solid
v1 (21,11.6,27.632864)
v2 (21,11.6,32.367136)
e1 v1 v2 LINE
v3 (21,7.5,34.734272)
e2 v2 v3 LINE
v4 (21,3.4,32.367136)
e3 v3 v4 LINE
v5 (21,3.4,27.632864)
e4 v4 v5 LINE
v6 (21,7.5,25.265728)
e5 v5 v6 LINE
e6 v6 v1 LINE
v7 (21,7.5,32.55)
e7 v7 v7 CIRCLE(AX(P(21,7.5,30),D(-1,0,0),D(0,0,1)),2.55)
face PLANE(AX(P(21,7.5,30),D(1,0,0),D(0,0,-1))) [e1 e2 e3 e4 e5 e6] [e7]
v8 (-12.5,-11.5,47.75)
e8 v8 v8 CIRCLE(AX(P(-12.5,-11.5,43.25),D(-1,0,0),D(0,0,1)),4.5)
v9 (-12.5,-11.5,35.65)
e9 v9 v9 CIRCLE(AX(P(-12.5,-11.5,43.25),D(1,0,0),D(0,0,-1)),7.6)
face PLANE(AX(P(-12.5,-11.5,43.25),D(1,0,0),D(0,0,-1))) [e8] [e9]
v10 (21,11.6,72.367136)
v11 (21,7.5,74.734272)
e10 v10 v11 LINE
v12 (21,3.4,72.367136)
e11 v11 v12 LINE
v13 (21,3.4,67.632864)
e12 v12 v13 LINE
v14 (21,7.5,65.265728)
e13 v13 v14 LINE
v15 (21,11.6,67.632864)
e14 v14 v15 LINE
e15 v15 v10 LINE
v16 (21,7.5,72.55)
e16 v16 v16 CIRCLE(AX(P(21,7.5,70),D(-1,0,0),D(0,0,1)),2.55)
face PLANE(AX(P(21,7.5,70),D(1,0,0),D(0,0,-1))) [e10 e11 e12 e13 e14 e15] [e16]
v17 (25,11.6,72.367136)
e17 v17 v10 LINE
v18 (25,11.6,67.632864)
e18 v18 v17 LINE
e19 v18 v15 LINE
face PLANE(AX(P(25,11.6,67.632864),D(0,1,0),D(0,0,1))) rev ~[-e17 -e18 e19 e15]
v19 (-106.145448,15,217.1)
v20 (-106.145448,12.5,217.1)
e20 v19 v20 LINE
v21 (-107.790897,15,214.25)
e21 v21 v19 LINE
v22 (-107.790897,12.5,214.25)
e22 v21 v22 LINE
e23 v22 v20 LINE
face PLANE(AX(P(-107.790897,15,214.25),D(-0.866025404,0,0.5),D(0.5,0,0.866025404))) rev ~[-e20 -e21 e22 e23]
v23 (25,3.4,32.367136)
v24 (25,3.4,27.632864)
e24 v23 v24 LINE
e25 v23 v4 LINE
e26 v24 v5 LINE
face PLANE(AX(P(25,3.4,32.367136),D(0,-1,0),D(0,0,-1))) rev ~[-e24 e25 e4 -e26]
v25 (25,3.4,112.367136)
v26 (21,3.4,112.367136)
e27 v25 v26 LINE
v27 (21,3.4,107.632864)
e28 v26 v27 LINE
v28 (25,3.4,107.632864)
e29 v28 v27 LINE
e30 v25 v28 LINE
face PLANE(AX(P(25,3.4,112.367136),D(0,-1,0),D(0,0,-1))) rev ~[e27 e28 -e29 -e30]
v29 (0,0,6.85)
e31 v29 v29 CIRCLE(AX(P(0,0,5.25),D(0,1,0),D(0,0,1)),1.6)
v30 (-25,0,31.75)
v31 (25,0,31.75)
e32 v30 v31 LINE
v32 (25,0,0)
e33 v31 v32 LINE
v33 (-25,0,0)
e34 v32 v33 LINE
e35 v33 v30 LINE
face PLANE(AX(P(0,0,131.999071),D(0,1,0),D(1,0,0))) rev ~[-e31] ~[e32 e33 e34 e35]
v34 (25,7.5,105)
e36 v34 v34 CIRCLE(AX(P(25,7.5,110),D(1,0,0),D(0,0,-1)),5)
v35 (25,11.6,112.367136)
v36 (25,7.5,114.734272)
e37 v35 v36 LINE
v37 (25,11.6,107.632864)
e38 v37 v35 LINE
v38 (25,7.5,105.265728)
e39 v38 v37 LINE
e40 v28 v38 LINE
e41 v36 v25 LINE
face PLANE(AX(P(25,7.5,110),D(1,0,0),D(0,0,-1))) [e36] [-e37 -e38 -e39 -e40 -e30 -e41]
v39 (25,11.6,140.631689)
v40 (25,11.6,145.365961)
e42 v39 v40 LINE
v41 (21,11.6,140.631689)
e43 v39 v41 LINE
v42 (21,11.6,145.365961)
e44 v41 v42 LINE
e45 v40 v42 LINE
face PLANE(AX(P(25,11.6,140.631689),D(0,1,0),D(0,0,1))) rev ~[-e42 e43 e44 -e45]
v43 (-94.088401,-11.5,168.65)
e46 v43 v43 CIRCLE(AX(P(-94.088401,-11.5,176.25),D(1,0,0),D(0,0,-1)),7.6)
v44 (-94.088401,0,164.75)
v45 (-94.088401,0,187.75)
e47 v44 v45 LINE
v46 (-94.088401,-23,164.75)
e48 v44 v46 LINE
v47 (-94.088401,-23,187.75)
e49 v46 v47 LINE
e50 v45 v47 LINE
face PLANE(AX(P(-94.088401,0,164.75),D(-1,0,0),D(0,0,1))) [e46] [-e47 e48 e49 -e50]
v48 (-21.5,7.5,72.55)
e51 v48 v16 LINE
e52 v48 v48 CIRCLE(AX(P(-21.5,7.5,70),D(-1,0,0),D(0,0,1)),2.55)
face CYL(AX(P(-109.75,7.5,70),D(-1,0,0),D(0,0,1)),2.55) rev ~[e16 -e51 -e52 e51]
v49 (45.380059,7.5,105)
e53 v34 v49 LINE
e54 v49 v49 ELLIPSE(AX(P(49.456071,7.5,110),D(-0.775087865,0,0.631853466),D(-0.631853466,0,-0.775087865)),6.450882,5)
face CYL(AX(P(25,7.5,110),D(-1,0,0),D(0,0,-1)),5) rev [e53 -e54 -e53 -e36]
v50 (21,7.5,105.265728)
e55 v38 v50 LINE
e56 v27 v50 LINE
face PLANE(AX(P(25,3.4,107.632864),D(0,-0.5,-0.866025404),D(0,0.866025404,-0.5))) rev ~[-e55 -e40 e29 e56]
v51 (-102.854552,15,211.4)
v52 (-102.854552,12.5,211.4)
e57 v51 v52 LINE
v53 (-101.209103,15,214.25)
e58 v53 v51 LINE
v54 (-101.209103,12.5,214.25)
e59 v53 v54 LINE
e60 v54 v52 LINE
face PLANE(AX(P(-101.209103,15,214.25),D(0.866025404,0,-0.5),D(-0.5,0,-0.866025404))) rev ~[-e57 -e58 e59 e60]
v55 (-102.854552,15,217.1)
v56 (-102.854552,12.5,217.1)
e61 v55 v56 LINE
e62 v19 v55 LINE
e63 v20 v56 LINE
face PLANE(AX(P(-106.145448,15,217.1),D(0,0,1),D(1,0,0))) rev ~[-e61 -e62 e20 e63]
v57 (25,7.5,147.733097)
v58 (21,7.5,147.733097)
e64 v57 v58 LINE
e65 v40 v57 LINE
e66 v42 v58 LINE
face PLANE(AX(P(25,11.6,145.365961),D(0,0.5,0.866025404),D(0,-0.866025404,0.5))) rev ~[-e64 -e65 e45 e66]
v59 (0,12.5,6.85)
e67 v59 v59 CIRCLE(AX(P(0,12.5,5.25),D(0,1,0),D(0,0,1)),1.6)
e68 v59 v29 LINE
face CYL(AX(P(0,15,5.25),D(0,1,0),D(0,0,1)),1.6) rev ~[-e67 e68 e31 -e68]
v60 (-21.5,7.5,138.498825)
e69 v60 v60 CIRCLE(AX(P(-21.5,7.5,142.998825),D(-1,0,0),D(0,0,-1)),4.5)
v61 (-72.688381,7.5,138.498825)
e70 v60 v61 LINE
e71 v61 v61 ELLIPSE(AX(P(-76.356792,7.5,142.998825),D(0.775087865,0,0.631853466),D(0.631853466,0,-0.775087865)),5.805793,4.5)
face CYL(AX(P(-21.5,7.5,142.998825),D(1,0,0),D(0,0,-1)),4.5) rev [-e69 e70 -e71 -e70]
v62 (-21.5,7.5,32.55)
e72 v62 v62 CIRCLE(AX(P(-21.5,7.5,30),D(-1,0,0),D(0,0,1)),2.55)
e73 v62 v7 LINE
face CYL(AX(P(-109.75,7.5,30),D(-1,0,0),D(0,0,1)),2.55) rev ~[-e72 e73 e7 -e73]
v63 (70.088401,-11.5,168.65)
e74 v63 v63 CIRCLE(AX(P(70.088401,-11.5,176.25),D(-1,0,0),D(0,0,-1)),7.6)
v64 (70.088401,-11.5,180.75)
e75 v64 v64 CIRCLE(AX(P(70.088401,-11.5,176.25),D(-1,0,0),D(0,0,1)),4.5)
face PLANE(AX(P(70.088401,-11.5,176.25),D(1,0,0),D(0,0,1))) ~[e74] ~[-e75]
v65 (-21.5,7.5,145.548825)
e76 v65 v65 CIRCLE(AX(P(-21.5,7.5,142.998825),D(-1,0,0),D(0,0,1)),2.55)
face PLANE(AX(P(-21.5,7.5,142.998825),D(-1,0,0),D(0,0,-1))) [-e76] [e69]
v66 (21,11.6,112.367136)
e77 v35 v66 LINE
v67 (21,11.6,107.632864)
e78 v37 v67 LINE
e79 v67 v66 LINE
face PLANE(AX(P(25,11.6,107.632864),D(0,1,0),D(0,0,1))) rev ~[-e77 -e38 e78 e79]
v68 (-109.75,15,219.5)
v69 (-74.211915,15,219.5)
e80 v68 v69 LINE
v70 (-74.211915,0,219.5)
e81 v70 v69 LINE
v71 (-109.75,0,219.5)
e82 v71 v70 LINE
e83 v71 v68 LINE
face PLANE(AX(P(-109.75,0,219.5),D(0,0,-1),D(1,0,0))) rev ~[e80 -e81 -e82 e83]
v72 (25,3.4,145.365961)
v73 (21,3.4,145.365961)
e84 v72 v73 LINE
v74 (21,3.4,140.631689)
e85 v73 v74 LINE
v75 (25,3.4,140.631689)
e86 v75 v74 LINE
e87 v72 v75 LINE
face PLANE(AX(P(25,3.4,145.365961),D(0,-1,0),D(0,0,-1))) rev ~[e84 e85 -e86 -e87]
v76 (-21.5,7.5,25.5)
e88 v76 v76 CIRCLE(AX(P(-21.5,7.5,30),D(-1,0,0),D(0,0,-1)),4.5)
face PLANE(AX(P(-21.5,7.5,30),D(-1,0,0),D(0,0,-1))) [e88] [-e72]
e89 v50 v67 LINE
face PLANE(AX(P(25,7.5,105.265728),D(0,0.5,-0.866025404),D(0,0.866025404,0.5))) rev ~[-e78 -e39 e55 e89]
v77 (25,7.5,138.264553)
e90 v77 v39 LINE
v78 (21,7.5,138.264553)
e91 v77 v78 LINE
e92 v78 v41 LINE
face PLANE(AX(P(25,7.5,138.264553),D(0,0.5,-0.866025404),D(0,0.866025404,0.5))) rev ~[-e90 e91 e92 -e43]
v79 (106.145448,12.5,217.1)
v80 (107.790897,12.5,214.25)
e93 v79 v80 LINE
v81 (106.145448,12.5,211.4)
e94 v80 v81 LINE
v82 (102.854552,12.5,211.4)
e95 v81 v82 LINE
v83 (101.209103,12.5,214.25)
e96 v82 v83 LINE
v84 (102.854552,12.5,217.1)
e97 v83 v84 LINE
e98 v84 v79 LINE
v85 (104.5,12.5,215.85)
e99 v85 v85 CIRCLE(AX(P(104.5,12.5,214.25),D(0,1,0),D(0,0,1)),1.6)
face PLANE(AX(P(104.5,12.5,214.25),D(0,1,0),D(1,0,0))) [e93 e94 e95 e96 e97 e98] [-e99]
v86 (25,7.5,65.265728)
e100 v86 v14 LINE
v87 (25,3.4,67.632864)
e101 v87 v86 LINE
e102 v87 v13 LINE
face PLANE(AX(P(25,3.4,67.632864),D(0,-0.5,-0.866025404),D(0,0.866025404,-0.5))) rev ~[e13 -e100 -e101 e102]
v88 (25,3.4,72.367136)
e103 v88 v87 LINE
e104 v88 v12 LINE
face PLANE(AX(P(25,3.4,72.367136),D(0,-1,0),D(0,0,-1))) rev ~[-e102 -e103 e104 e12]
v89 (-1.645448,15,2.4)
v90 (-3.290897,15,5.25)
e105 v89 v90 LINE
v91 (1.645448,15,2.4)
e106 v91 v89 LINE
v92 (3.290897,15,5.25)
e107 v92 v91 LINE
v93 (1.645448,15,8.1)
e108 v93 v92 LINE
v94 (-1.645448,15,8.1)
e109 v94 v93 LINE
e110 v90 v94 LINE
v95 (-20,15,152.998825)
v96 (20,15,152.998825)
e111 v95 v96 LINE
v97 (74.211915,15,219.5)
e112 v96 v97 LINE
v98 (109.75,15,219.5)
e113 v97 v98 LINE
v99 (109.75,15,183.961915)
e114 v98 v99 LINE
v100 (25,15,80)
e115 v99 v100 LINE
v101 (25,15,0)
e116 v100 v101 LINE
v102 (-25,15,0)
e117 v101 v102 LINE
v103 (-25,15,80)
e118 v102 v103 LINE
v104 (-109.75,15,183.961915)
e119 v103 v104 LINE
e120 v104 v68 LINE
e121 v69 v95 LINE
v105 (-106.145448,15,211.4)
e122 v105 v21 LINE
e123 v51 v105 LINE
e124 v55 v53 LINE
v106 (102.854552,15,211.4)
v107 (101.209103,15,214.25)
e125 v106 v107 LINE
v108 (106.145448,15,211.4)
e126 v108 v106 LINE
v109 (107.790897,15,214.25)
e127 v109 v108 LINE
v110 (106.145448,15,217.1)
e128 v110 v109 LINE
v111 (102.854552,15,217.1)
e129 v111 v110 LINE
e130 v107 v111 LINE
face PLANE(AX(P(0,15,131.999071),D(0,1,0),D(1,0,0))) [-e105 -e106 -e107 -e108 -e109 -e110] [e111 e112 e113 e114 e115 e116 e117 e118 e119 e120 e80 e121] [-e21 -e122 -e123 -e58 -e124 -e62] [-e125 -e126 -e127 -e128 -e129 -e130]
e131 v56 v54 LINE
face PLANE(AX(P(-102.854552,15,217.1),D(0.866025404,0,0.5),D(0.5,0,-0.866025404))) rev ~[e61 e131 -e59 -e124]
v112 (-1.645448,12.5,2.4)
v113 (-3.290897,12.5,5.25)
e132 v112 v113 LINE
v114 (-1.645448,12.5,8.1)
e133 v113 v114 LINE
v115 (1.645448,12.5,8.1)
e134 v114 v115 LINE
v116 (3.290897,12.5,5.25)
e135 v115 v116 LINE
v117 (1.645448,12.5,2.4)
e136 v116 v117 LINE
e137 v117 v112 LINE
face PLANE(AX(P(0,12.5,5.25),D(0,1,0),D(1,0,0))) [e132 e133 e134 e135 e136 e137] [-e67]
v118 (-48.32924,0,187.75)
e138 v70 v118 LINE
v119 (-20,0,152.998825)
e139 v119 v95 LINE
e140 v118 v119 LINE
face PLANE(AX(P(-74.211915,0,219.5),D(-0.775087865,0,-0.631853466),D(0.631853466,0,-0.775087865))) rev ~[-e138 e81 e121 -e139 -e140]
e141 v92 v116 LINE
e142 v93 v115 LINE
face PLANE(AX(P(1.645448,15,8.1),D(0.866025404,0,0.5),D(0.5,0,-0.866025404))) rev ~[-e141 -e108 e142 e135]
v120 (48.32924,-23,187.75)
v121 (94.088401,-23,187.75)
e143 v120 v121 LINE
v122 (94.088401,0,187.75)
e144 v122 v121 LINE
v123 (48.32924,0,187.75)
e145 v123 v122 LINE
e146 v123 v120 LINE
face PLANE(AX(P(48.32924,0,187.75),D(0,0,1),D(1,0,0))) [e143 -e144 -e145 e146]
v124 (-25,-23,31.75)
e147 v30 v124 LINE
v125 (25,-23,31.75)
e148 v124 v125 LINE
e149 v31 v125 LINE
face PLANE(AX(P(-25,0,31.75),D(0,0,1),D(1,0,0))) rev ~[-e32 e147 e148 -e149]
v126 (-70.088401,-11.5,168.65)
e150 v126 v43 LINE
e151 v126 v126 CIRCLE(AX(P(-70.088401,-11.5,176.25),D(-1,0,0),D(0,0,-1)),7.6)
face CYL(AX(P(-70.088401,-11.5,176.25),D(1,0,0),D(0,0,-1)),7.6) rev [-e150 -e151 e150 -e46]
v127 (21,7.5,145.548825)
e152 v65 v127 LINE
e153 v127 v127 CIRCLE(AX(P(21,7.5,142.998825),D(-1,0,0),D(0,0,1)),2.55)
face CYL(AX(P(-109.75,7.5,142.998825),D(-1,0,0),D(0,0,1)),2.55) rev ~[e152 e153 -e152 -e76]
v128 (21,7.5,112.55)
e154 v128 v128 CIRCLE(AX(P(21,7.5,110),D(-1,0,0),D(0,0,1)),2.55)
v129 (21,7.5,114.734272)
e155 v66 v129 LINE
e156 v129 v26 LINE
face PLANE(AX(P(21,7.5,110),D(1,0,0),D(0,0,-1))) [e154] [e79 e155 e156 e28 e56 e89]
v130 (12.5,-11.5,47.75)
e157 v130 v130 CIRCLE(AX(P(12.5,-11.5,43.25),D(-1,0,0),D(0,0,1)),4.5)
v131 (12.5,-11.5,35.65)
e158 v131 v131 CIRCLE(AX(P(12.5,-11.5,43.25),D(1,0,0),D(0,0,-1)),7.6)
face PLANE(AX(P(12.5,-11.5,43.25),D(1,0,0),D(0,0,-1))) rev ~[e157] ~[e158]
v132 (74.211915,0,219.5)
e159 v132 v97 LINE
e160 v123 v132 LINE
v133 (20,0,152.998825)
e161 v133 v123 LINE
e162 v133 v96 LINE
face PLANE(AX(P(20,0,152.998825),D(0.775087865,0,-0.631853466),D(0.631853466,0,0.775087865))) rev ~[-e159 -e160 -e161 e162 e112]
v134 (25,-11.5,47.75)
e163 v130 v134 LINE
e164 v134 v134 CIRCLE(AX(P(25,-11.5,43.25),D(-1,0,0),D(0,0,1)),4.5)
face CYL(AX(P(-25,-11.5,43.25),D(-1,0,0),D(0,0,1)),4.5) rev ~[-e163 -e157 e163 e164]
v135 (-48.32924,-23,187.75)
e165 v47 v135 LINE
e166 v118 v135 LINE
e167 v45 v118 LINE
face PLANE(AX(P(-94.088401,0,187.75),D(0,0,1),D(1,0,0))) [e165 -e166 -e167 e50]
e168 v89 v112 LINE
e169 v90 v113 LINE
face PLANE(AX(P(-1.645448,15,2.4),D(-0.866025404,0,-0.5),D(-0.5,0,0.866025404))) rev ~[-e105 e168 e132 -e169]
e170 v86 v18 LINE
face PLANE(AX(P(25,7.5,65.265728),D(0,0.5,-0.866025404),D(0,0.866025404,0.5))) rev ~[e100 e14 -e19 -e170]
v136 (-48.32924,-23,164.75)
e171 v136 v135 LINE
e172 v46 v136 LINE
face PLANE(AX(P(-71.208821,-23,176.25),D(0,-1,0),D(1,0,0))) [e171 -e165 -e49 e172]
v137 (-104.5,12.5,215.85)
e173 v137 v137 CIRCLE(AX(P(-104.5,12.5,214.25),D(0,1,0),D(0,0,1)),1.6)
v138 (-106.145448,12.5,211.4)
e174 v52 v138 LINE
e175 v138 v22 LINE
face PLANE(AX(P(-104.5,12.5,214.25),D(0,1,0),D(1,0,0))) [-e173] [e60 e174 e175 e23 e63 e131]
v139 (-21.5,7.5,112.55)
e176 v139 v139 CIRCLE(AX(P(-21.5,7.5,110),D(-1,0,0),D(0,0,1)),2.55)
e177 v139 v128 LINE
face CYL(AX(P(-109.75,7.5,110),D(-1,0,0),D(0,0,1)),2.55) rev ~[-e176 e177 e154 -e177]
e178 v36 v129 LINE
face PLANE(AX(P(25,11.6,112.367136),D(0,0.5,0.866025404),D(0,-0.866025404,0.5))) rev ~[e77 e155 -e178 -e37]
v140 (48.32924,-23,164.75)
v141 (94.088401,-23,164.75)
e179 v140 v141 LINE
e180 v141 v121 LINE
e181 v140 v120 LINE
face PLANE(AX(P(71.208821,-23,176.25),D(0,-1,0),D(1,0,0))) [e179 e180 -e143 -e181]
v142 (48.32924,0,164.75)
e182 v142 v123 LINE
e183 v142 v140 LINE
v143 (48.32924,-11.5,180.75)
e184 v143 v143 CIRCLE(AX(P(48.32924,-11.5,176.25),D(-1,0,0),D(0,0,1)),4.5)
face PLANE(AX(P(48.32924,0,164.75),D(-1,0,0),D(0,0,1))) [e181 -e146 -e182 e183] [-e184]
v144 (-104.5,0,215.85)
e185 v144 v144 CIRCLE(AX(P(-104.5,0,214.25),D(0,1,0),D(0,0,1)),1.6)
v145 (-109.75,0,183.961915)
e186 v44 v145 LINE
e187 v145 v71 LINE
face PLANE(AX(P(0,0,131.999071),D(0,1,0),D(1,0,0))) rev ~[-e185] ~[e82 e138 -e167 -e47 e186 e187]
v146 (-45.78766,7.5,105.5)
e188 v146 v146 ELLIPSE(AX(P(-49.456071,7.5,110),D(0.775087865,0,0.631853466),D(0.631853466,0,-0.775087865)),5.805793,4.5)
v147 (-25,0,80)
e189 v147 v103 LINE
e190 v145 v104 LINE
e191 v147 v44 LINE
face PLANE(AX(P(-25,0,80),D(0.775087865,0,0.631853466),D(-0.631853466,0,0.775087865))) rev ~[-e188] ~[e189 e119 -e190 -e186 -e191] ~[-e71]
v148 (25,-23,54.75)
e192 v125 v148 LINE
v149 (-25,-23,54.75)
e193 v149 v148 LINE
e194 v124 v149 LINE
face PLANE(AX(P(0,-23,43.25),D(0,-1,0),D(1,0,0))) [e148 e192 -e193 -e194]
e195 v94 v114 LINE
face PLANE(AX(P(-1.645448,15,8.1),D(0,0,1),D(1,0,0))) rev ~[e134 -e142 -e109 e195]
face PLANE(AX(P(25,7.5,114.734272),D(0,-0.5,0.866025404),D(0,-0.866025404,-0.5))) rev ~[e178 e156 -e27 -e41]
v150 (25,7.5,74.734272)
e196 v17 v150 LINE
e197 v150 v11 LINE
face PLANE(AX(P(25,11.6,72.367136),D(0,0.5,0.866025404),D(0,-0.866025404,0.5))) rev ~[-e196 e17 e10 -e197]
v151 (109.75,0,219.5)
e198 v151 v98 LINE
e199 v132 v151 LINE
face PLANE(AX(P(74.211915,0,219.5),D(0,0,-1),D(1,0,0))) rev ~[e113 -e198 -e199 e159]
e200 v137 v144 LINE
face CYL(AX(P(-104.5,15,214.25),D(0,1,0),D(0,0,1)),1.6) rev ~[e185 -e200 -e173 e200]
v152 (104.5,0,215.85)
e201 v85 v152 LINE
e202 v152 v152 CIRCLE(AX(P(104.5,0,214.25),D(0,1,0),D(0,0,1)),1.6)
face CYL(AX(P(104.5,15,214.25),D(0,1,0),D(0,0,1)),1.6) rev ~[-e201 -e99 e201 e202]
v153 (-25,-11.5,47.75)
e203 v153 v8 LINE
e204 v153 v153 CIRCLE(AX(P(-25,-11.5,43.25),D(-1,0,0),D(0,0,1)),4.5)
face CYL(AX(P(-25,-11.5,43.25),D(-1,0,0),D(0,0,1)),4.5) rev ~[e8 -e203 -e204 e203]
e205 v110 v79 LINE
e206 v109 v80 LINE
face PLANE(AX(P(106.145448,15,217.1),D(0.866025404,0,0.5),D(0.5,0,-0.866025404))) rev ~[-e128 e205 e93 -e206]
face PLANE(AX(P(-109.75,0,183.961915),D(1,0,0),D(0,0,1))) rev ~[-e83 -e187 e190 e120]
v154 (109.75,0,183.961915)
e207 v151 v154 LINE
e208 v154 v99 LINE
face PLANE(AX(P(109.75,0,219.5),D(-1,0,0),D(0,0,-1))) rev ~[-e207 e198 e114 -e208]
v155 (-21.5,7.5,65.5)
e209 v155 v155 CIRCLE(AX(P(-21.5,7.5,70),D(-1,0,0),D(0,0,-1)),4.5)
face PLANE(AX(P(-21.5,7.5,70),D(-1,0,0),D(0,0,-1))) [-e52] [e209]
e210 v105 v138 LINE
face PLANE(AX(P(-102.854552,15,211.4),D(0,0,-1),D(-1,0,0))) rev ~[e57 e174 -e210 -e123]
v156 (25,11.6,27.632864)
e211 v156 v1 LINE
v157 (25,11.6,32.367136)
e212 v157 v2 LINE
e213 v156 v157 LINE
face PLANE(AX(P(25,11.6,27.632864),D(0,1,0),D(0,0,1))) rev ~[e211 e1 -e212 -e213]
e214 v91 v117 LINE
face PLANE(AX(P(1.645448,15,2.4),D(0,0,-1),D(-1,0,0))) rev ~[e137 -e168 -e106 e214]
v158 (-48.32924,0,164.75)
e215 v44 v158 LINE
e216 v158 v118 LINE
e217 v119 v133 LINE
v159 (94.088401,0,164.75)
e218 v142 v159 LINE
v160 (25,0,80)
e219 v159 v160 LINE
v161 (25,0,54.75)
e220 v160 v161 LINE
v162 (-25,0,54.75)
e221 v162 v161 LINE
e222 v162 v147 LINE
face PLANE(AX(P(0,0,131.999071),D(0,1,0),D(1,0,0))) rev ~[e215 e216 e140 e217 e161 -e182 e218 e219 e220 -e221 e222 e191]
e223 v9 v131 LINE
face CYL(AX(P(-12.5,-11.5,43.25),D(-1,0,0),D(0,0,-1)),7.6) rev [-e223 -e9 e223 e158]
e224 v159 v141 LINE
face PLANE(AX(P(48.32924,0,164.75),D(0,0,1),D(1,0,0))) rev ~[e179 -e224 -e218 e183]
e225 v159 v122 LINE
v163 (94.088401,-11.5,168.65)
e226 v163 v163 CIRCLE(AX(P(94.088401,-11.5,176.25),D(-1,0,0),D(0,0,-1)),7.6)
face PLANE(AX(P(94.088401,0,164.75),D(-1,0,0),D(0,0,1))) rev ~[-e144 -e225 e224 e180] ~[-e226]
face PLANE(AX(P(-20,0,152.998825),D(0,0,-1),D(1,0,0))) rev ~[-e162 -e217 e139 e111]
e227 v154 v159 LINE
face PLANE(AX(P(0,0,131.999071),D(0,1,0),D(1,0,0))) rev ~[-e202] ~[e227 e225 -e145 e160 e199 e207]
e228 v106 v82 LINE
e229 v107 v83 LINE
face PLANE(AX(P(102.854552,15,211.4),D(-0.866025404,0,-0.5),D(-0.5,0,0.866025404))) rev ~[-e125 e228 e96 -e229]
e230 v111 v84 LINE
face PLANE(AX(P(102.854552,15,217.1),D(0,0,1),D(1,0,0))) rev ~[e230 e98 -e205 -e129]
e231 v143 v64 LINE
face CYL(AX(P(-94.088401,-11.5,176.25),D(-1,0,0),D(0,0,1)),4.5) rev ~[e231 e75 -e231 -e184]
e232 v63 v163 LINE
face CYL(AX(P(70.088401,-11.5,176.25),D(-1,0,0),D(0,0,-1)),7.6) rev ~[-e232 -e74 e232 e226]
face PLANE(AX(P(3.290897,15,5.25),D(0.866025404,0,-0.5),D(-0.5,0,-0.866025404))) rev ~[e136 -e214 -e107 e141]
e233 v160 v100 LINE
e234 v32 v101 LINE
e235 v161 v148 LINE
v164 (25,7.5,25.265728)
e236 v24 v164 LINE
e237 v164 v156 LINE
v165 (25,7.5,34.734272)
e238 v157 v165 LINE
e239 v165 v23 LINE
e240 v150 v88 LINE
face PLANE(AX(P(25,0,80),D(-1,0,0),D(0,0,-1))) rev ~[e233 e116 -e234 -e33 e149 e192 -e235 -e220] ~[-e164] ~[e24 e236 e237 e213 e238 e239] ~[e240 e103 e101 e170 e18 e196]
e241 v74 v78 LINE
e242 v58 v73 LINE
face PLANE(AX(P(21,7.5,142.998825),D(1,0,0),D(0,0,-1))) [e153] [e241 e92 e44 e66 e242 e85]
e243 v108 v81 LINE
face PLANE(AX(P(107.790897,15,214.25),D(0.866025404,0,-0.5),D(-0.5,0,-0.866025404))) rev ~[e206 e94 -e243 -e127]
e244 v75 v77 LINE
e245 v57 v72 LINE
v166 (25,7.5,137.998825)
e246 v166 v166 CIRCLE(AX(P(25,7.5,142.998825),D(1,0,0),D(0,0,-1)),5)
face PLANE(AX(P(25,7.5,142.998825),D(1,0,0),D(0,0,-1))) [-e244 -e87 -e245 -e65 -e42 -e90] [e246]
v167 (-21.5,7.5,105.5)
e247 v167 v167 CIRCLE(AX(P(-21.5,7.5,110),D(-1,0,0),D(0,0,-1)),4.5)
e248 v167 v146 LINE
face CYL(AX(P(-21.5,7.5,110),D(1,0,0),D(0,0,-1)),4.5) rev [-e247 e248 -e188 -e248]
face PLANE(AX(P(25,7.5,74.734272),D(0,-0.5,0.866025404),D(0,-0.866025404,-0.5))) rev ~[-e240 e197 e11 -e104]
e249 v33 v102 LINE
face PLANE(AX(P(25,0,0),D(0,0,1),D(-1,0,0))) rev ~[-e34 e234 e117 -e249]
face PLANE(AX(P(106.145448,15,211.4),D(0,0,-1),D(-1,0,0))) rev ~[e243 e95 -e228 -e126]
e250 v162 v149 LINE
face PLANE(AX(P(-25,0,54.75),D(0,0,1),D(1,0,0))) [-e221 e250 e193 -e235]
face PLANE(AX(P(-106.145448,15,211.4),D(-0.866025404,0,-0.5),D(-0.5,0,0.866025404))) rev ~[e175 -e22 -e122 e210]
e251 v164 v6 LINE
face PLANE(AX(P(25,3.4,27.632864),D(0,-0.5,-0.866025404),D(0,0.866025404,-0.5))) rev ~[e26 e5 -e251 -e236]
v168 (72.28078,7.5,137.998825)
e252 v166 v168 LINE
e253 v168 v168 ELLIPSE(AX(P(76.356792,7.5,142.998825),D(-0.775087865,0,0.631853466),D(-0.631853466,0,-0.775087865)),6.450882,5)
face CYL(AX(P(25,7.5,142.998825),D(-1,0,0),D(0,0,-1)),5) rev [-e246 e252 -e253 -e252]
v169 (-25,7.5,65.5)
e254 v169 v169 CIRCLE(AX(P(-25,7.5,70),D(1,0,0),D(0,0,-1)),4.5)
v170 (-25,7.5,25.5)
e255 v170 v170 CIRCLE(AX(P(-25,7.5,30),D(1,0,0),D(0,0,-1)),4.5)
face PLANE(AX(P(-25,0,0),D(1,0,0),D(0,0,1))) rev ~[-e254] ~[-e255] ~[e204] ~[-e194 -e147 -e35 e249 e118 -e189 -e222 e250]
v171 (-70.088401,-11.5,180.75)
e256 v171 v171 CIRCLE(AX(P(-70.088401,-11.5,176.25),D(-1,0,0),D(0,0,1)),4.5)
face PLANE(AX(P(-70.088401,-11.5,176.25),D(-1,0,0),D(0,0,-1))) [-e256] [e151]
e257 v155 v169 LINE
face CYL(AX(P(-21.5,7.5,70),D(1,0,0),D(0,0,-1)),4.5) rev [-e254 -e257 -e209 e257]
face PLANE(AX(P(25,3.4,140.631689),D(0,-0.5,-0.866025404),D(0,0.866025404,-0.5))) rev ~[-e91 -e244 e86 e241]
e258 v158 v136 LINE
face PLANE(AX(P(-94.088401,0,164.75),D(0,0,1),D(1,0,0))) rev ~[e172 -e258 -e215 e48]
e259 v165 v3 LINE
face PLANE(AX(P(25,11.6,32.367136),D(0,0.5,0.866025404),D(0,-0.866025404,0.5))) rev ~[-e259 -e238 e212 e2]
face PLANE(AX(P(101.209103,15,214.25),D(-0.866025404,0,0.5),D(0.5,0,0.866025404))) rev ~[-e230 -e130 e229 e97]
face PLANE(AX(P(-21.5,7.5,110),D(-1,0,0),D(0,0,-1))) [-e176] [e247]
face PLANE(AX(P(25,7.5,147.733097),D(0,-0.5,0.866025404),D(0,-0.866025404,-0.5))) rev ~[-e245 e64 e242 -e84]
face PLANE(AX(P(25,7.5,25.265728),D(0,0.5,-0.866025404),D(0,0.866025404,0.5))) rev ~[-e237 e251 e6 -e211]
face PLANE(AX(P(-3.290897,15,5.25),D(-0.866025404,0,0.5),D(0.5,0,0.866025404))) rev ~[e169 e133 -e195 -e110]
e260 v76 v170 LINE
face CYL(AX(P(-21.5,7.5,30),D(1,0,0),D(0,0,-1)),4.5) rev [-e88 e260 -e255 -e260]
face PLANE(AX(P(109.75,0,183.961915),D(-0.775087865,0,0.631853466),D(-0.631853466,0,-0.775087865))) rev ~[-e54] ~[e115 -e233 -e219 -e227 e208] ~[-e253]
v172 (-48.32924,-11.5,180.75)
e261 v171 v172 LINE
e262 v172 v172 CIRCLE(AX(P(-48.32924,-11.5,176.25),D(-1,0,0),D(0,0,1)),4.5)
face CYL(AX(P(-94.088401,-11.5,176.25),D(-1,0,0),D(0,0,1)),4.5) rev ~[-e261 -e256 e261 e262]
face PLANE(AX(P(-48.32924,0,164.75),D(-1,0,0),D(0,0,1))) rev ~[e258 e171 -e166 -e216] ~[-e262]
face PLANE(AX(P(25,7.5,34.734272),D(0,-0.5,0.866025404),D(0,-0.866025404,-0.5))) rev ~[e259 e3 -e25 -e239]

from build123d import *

# Parameters (mm, degrees)
BOSS_EXTRUDE1_DEPTH      = 15
SKETCH4_R                = 2.55
CUT_EXTRUDE1_DEPTH       = 311.78207799
CUT_EXTRUDE3_DEPTH       = 258.997698633
CUT_EXTRUDE3_DEPTH_BACK  = 3.5
SKETCH5_R                = 4.5
SKETCH6_R                = 5
CUT_EXTRUDE4_DEPTH       = 258.997698633
CUT_EXTRUDE5_DEPTH       = 4
SKETCH8_R                = 1.6
CUT_EXTRUDE6_DEPTH       = 246.866452571
CUT_EXTRUDE7_DEPTH       = 2.5
SKETCH10_W               = 50
SKETCH10_H               = 23
SKETCH10_W_2             = 45.759160871
BOSS_EXTRUDE2_DEPTH      = 23
CUT_EXTRUDE8_START       = -24
SKETCH11_R               = 7.6
CUT_EXTRUDE8_DEPTH       = 325.431928593
SKETCH12_R               = 4.5
CUT_EXTRUDE9_DEPTH       = 301.431928593
SKETCH13_R               = 4.5
CUT_EXTRUDE10_DEPTH      = 259.586180025
CUT_EXTRUDE11_DEPTH      = 12.5
CUT_EXTRUDE11_DEPTH_BACK = 12.5
SKETCH14_R               = 7.6


with BuildPart() as part:
    # Sketch1 → Boss-Extrude1 (new body)
    with BuildSketch(Plane(origin=(0, 0, 0), x_dir=(1, 0, 0), z_dir=(0, 1, 0))):
        Polygon((25, 0), (-25, 0), (-25, -80), (-109.75, -183.961915416), (-109.75, -219.5), (-74.211915416, -219.5), (-20, -152.998825191), (20, -152.998825191), (74.211915416, -219.5), (109.75, -219.5), (109.75, -183.961915416), (25, -80), align=None)
    extrude(amount=BOSS_EXTRUDE1_DEPTH)

    # Sketch4 → Cut-Extrude1 (cut, through all)
    with BuildSketch(Plane.ZY.offset(109.75)):
        with Locations((30, 7.5)):
            Circle(SKETCH4_R)
        with Locations((70, 7.5)):
            Circle(SKETCH4_R)
        with Locations((110, 7.5)):
            Circle(SKETCH4_R)
        with Locations((142.998825191, 7.5)):
            Circle(SKETCH4_R)
    extrude(amount=-CUT_EXTRUDE1_DEPTH, mode=Mode.SUBTRACT)

    # Sketch5 → Cut-Extrude3 (cut, two sides: drawn at the far end of the back side and taken through both)
    with BuildSketch(Plane.ZY.offset(25).offset(-CUT_EXTRUDE3_DEPTH_BACK)):
        with Locations(Location((30, 7.5, 0), (0, 0, 180))):
            Circle(SKETCH5_R)
        with Locations(Location((70, 7.5, 0), (0, 0, 180))):
            Circle(SKETCH5_R)
        with Locations(Location((110, 7.5, 0), (0, 0, 180))):
            Circle(SKETCH5_R)
        with Locations(Location((142.998825191, 7.5, 0), (0, 0, 180))):
            Circle(SKETCH5_R)
    extrude(amount=CUT_EXTRUDE3_DEPTH + CUT_EXTRUDE3_DEPTH_BACK, mode=Mode.SUBTRACT)

    # Sketch6 → Cut-Extrude4 (cut, through all)
    with BuildSketch(Plane(origin=(25, 0, 0), x_dir=(0, 0, -1), z_dir=(1, 0, 0))):
        with Locations((-142.998825191, 7.5)):
            Circle(SKETCH6_R)
        with Locations((-110, 7.5)):
            Circle(SKETCH6_R)
    extrude(amount=CUT_EXTRUDE4_DEPTH, mode=Mode.SUBTRACT)

    # Sketch7 → Cut-Extrude5 (cut)
    with BuildSketch(Plane(origin=(25, 0, 0), x_dir=(0, 0, -1), z_dir=(1, 0, 0))):
        Polygon((-34.734272207, 7.5), (-32.367136104, 3.4), (-27.632863896, 3.4), (-25.265727793, 7.5), (-27.632863896, 11.6), (-32.367136104, 11.6), align=None)
        Polygon((-74.734272207, 7.5), (-72.367136104, 3.4), (-67.632863896, 3.4), (-65.265727793, 7.5), (-67.632863896, 11.6), (-72.367136104, 11.6), align=None)
        Polygon((-114.734272207, 7.5), (-112.367136104, 3.4), (-107.632863896, 3.4), (-105.265727793, 7.5), (-107.632863896, 11.6), (-112.367136104, 11.6), align=None)
        Polygon((-147.733097398, 7.5), (-145.365961294, 3.4), (-140.631689087, 3.4), (-138.264552983, 7.5), (-140.631689087, 11.6), (-145.365961294, 11.6), align=None)
    extrude(amount=-CUT_EXTRUDE5_DEPTH, mode=Mode.SUBTRACT)

    # Sketch8 → Cut-Extrude6 (cut, through all)
    with BuildSketch(Plane(origin=(0, 15, 0), x_dir=(1, 0, 0), z_dir=(0, 1, 0))):
        with Locations(Location((0, -5.25, 0), (0, 0, 270))):
            Circle(SKETCH8_R)
        with Locations(Location((-104.5, -214.25, 0), (0, 0, 270))):
            Circle(SKETCH8_R)
        with Locations(Location((104.5, -214.25, 0), (0, 0, 270))):
            Circle(SKETCH8_R)
    extrude(amount=-CUT_EXTRUDE6_DEPTH, mode=Mode.SUBTRACT)

    # Sketch9 → Cut-Extrude7 (cut)
    with BuildSketch(Plane(origin=(0, 15, 0), x_dir=(1, 0, 0), z_dir=(0, 1, 0))):
        Polygon((-101.209103466, -214.25), (-102.854551733, -211.4), (-106.145448267, -211.4), (-107.790896534, -214.25), (-106.145448267, -217.1), (-102.854551733, -217.1), align=None)
        Polygon((101.209103466, -214.25), (102.854551733, -217.1), (106.145448267, -217.1), (107.790896534, -214.25), (106.145448267, -211.4), (102.854551733, -211.4), align=None)
        Polygon((3.290896534, -5.25), (1.645448267, -2.4), (-1.645448267, -2.4), (-3.290896534, -5.25), (-1.645448267, -8.1), (1.645448267, -8.1), align=None)
    extrude(amount=-CUT_EXTRUDE7_DEPTH, mode=Mode.SUBTRACT)

    # Sketch10 → Boss-Extrude2 (add)
    with BuildSketch(Plane.XZ):
        with Locations((0, 43.25)):
            Rectangle(SKETCH10_W, SKETCH10_H)
        with Locations((71.208820555, 176.25)):
            Rectangle(SKETCH10_W_2, SKETCH10_H)
        with Locations((-71.208820555, 176.25)):
            Rectangle(SKETCH10_W_2, SKETCH10_H)
    extrude(amount=BOSS_EXTRUDE2_DEPTH)

    # Sketch11 → Cut-Extrude8 (cut)
    with BuildSketch(Plane.ZY.offset(94.08840099).offset(CUT_EXTRUDE8_START)):
        with Locations(Location((176.25, -11.5, 0), (0, 0, 180))):
            Circle(SKETCH11_R)
    cut_extrude8 = extrude(amount=CUT_EXTRUDE8_DEPTH, mode=Mode.SUBTRACT)

    # Sketch12 → Cut-Extrude9 (cut, through all)
    with BuildSketch(Plane.ZY.offset(94.08840099)):
        with Locations((176.25, -11.5)):
            Circle(SKETCH12_R)
    extrude(amount=-CUT_EXTRUDE9_DEPTH, mode=Mode.SUBTRACT)

    # Mirror1: Cut-Extrude8 across plane
    add(cut_extrude8.mirror(Plane(origin=(0, 0, 0), x_dir=(0, 0, 1), z_dir=(1, 0, 0))), mode=Mode.SUBTRACT)

    # Sketch13 → Cut-Extrude10 (cut, through all)
    with BuildSketch(Plane.ZY.offset(25)):
        with Locations((43.25, -11.5)):
            Circle(SKETCH13_R)
    extrude(amount=-CUT_EXTRUDE10_DEPTH, mode=Mode.SUBTRACT)

    # Sketch14 → Cut-Extrude11 (cut, two sides: drawn at the far end of the back side and taken through both)
    with BuildSketch(Plane(origin=(0, 0, 0), x_dir=(0, 0, -1), z_dir=(1, 0, 0)).offset(-CUT_EXTRUDE11_DEPTH_BACK)):
        with Locations((-43.25, -11.5)):
            Circle(SKETCH14_R)
    extrude(amount=CUT_EXTRUDE11_DEPTH + CUT_EXTRUDE11_DEPTH_BACK, mode=Mode.SUBTRACT)


solid = part.part
